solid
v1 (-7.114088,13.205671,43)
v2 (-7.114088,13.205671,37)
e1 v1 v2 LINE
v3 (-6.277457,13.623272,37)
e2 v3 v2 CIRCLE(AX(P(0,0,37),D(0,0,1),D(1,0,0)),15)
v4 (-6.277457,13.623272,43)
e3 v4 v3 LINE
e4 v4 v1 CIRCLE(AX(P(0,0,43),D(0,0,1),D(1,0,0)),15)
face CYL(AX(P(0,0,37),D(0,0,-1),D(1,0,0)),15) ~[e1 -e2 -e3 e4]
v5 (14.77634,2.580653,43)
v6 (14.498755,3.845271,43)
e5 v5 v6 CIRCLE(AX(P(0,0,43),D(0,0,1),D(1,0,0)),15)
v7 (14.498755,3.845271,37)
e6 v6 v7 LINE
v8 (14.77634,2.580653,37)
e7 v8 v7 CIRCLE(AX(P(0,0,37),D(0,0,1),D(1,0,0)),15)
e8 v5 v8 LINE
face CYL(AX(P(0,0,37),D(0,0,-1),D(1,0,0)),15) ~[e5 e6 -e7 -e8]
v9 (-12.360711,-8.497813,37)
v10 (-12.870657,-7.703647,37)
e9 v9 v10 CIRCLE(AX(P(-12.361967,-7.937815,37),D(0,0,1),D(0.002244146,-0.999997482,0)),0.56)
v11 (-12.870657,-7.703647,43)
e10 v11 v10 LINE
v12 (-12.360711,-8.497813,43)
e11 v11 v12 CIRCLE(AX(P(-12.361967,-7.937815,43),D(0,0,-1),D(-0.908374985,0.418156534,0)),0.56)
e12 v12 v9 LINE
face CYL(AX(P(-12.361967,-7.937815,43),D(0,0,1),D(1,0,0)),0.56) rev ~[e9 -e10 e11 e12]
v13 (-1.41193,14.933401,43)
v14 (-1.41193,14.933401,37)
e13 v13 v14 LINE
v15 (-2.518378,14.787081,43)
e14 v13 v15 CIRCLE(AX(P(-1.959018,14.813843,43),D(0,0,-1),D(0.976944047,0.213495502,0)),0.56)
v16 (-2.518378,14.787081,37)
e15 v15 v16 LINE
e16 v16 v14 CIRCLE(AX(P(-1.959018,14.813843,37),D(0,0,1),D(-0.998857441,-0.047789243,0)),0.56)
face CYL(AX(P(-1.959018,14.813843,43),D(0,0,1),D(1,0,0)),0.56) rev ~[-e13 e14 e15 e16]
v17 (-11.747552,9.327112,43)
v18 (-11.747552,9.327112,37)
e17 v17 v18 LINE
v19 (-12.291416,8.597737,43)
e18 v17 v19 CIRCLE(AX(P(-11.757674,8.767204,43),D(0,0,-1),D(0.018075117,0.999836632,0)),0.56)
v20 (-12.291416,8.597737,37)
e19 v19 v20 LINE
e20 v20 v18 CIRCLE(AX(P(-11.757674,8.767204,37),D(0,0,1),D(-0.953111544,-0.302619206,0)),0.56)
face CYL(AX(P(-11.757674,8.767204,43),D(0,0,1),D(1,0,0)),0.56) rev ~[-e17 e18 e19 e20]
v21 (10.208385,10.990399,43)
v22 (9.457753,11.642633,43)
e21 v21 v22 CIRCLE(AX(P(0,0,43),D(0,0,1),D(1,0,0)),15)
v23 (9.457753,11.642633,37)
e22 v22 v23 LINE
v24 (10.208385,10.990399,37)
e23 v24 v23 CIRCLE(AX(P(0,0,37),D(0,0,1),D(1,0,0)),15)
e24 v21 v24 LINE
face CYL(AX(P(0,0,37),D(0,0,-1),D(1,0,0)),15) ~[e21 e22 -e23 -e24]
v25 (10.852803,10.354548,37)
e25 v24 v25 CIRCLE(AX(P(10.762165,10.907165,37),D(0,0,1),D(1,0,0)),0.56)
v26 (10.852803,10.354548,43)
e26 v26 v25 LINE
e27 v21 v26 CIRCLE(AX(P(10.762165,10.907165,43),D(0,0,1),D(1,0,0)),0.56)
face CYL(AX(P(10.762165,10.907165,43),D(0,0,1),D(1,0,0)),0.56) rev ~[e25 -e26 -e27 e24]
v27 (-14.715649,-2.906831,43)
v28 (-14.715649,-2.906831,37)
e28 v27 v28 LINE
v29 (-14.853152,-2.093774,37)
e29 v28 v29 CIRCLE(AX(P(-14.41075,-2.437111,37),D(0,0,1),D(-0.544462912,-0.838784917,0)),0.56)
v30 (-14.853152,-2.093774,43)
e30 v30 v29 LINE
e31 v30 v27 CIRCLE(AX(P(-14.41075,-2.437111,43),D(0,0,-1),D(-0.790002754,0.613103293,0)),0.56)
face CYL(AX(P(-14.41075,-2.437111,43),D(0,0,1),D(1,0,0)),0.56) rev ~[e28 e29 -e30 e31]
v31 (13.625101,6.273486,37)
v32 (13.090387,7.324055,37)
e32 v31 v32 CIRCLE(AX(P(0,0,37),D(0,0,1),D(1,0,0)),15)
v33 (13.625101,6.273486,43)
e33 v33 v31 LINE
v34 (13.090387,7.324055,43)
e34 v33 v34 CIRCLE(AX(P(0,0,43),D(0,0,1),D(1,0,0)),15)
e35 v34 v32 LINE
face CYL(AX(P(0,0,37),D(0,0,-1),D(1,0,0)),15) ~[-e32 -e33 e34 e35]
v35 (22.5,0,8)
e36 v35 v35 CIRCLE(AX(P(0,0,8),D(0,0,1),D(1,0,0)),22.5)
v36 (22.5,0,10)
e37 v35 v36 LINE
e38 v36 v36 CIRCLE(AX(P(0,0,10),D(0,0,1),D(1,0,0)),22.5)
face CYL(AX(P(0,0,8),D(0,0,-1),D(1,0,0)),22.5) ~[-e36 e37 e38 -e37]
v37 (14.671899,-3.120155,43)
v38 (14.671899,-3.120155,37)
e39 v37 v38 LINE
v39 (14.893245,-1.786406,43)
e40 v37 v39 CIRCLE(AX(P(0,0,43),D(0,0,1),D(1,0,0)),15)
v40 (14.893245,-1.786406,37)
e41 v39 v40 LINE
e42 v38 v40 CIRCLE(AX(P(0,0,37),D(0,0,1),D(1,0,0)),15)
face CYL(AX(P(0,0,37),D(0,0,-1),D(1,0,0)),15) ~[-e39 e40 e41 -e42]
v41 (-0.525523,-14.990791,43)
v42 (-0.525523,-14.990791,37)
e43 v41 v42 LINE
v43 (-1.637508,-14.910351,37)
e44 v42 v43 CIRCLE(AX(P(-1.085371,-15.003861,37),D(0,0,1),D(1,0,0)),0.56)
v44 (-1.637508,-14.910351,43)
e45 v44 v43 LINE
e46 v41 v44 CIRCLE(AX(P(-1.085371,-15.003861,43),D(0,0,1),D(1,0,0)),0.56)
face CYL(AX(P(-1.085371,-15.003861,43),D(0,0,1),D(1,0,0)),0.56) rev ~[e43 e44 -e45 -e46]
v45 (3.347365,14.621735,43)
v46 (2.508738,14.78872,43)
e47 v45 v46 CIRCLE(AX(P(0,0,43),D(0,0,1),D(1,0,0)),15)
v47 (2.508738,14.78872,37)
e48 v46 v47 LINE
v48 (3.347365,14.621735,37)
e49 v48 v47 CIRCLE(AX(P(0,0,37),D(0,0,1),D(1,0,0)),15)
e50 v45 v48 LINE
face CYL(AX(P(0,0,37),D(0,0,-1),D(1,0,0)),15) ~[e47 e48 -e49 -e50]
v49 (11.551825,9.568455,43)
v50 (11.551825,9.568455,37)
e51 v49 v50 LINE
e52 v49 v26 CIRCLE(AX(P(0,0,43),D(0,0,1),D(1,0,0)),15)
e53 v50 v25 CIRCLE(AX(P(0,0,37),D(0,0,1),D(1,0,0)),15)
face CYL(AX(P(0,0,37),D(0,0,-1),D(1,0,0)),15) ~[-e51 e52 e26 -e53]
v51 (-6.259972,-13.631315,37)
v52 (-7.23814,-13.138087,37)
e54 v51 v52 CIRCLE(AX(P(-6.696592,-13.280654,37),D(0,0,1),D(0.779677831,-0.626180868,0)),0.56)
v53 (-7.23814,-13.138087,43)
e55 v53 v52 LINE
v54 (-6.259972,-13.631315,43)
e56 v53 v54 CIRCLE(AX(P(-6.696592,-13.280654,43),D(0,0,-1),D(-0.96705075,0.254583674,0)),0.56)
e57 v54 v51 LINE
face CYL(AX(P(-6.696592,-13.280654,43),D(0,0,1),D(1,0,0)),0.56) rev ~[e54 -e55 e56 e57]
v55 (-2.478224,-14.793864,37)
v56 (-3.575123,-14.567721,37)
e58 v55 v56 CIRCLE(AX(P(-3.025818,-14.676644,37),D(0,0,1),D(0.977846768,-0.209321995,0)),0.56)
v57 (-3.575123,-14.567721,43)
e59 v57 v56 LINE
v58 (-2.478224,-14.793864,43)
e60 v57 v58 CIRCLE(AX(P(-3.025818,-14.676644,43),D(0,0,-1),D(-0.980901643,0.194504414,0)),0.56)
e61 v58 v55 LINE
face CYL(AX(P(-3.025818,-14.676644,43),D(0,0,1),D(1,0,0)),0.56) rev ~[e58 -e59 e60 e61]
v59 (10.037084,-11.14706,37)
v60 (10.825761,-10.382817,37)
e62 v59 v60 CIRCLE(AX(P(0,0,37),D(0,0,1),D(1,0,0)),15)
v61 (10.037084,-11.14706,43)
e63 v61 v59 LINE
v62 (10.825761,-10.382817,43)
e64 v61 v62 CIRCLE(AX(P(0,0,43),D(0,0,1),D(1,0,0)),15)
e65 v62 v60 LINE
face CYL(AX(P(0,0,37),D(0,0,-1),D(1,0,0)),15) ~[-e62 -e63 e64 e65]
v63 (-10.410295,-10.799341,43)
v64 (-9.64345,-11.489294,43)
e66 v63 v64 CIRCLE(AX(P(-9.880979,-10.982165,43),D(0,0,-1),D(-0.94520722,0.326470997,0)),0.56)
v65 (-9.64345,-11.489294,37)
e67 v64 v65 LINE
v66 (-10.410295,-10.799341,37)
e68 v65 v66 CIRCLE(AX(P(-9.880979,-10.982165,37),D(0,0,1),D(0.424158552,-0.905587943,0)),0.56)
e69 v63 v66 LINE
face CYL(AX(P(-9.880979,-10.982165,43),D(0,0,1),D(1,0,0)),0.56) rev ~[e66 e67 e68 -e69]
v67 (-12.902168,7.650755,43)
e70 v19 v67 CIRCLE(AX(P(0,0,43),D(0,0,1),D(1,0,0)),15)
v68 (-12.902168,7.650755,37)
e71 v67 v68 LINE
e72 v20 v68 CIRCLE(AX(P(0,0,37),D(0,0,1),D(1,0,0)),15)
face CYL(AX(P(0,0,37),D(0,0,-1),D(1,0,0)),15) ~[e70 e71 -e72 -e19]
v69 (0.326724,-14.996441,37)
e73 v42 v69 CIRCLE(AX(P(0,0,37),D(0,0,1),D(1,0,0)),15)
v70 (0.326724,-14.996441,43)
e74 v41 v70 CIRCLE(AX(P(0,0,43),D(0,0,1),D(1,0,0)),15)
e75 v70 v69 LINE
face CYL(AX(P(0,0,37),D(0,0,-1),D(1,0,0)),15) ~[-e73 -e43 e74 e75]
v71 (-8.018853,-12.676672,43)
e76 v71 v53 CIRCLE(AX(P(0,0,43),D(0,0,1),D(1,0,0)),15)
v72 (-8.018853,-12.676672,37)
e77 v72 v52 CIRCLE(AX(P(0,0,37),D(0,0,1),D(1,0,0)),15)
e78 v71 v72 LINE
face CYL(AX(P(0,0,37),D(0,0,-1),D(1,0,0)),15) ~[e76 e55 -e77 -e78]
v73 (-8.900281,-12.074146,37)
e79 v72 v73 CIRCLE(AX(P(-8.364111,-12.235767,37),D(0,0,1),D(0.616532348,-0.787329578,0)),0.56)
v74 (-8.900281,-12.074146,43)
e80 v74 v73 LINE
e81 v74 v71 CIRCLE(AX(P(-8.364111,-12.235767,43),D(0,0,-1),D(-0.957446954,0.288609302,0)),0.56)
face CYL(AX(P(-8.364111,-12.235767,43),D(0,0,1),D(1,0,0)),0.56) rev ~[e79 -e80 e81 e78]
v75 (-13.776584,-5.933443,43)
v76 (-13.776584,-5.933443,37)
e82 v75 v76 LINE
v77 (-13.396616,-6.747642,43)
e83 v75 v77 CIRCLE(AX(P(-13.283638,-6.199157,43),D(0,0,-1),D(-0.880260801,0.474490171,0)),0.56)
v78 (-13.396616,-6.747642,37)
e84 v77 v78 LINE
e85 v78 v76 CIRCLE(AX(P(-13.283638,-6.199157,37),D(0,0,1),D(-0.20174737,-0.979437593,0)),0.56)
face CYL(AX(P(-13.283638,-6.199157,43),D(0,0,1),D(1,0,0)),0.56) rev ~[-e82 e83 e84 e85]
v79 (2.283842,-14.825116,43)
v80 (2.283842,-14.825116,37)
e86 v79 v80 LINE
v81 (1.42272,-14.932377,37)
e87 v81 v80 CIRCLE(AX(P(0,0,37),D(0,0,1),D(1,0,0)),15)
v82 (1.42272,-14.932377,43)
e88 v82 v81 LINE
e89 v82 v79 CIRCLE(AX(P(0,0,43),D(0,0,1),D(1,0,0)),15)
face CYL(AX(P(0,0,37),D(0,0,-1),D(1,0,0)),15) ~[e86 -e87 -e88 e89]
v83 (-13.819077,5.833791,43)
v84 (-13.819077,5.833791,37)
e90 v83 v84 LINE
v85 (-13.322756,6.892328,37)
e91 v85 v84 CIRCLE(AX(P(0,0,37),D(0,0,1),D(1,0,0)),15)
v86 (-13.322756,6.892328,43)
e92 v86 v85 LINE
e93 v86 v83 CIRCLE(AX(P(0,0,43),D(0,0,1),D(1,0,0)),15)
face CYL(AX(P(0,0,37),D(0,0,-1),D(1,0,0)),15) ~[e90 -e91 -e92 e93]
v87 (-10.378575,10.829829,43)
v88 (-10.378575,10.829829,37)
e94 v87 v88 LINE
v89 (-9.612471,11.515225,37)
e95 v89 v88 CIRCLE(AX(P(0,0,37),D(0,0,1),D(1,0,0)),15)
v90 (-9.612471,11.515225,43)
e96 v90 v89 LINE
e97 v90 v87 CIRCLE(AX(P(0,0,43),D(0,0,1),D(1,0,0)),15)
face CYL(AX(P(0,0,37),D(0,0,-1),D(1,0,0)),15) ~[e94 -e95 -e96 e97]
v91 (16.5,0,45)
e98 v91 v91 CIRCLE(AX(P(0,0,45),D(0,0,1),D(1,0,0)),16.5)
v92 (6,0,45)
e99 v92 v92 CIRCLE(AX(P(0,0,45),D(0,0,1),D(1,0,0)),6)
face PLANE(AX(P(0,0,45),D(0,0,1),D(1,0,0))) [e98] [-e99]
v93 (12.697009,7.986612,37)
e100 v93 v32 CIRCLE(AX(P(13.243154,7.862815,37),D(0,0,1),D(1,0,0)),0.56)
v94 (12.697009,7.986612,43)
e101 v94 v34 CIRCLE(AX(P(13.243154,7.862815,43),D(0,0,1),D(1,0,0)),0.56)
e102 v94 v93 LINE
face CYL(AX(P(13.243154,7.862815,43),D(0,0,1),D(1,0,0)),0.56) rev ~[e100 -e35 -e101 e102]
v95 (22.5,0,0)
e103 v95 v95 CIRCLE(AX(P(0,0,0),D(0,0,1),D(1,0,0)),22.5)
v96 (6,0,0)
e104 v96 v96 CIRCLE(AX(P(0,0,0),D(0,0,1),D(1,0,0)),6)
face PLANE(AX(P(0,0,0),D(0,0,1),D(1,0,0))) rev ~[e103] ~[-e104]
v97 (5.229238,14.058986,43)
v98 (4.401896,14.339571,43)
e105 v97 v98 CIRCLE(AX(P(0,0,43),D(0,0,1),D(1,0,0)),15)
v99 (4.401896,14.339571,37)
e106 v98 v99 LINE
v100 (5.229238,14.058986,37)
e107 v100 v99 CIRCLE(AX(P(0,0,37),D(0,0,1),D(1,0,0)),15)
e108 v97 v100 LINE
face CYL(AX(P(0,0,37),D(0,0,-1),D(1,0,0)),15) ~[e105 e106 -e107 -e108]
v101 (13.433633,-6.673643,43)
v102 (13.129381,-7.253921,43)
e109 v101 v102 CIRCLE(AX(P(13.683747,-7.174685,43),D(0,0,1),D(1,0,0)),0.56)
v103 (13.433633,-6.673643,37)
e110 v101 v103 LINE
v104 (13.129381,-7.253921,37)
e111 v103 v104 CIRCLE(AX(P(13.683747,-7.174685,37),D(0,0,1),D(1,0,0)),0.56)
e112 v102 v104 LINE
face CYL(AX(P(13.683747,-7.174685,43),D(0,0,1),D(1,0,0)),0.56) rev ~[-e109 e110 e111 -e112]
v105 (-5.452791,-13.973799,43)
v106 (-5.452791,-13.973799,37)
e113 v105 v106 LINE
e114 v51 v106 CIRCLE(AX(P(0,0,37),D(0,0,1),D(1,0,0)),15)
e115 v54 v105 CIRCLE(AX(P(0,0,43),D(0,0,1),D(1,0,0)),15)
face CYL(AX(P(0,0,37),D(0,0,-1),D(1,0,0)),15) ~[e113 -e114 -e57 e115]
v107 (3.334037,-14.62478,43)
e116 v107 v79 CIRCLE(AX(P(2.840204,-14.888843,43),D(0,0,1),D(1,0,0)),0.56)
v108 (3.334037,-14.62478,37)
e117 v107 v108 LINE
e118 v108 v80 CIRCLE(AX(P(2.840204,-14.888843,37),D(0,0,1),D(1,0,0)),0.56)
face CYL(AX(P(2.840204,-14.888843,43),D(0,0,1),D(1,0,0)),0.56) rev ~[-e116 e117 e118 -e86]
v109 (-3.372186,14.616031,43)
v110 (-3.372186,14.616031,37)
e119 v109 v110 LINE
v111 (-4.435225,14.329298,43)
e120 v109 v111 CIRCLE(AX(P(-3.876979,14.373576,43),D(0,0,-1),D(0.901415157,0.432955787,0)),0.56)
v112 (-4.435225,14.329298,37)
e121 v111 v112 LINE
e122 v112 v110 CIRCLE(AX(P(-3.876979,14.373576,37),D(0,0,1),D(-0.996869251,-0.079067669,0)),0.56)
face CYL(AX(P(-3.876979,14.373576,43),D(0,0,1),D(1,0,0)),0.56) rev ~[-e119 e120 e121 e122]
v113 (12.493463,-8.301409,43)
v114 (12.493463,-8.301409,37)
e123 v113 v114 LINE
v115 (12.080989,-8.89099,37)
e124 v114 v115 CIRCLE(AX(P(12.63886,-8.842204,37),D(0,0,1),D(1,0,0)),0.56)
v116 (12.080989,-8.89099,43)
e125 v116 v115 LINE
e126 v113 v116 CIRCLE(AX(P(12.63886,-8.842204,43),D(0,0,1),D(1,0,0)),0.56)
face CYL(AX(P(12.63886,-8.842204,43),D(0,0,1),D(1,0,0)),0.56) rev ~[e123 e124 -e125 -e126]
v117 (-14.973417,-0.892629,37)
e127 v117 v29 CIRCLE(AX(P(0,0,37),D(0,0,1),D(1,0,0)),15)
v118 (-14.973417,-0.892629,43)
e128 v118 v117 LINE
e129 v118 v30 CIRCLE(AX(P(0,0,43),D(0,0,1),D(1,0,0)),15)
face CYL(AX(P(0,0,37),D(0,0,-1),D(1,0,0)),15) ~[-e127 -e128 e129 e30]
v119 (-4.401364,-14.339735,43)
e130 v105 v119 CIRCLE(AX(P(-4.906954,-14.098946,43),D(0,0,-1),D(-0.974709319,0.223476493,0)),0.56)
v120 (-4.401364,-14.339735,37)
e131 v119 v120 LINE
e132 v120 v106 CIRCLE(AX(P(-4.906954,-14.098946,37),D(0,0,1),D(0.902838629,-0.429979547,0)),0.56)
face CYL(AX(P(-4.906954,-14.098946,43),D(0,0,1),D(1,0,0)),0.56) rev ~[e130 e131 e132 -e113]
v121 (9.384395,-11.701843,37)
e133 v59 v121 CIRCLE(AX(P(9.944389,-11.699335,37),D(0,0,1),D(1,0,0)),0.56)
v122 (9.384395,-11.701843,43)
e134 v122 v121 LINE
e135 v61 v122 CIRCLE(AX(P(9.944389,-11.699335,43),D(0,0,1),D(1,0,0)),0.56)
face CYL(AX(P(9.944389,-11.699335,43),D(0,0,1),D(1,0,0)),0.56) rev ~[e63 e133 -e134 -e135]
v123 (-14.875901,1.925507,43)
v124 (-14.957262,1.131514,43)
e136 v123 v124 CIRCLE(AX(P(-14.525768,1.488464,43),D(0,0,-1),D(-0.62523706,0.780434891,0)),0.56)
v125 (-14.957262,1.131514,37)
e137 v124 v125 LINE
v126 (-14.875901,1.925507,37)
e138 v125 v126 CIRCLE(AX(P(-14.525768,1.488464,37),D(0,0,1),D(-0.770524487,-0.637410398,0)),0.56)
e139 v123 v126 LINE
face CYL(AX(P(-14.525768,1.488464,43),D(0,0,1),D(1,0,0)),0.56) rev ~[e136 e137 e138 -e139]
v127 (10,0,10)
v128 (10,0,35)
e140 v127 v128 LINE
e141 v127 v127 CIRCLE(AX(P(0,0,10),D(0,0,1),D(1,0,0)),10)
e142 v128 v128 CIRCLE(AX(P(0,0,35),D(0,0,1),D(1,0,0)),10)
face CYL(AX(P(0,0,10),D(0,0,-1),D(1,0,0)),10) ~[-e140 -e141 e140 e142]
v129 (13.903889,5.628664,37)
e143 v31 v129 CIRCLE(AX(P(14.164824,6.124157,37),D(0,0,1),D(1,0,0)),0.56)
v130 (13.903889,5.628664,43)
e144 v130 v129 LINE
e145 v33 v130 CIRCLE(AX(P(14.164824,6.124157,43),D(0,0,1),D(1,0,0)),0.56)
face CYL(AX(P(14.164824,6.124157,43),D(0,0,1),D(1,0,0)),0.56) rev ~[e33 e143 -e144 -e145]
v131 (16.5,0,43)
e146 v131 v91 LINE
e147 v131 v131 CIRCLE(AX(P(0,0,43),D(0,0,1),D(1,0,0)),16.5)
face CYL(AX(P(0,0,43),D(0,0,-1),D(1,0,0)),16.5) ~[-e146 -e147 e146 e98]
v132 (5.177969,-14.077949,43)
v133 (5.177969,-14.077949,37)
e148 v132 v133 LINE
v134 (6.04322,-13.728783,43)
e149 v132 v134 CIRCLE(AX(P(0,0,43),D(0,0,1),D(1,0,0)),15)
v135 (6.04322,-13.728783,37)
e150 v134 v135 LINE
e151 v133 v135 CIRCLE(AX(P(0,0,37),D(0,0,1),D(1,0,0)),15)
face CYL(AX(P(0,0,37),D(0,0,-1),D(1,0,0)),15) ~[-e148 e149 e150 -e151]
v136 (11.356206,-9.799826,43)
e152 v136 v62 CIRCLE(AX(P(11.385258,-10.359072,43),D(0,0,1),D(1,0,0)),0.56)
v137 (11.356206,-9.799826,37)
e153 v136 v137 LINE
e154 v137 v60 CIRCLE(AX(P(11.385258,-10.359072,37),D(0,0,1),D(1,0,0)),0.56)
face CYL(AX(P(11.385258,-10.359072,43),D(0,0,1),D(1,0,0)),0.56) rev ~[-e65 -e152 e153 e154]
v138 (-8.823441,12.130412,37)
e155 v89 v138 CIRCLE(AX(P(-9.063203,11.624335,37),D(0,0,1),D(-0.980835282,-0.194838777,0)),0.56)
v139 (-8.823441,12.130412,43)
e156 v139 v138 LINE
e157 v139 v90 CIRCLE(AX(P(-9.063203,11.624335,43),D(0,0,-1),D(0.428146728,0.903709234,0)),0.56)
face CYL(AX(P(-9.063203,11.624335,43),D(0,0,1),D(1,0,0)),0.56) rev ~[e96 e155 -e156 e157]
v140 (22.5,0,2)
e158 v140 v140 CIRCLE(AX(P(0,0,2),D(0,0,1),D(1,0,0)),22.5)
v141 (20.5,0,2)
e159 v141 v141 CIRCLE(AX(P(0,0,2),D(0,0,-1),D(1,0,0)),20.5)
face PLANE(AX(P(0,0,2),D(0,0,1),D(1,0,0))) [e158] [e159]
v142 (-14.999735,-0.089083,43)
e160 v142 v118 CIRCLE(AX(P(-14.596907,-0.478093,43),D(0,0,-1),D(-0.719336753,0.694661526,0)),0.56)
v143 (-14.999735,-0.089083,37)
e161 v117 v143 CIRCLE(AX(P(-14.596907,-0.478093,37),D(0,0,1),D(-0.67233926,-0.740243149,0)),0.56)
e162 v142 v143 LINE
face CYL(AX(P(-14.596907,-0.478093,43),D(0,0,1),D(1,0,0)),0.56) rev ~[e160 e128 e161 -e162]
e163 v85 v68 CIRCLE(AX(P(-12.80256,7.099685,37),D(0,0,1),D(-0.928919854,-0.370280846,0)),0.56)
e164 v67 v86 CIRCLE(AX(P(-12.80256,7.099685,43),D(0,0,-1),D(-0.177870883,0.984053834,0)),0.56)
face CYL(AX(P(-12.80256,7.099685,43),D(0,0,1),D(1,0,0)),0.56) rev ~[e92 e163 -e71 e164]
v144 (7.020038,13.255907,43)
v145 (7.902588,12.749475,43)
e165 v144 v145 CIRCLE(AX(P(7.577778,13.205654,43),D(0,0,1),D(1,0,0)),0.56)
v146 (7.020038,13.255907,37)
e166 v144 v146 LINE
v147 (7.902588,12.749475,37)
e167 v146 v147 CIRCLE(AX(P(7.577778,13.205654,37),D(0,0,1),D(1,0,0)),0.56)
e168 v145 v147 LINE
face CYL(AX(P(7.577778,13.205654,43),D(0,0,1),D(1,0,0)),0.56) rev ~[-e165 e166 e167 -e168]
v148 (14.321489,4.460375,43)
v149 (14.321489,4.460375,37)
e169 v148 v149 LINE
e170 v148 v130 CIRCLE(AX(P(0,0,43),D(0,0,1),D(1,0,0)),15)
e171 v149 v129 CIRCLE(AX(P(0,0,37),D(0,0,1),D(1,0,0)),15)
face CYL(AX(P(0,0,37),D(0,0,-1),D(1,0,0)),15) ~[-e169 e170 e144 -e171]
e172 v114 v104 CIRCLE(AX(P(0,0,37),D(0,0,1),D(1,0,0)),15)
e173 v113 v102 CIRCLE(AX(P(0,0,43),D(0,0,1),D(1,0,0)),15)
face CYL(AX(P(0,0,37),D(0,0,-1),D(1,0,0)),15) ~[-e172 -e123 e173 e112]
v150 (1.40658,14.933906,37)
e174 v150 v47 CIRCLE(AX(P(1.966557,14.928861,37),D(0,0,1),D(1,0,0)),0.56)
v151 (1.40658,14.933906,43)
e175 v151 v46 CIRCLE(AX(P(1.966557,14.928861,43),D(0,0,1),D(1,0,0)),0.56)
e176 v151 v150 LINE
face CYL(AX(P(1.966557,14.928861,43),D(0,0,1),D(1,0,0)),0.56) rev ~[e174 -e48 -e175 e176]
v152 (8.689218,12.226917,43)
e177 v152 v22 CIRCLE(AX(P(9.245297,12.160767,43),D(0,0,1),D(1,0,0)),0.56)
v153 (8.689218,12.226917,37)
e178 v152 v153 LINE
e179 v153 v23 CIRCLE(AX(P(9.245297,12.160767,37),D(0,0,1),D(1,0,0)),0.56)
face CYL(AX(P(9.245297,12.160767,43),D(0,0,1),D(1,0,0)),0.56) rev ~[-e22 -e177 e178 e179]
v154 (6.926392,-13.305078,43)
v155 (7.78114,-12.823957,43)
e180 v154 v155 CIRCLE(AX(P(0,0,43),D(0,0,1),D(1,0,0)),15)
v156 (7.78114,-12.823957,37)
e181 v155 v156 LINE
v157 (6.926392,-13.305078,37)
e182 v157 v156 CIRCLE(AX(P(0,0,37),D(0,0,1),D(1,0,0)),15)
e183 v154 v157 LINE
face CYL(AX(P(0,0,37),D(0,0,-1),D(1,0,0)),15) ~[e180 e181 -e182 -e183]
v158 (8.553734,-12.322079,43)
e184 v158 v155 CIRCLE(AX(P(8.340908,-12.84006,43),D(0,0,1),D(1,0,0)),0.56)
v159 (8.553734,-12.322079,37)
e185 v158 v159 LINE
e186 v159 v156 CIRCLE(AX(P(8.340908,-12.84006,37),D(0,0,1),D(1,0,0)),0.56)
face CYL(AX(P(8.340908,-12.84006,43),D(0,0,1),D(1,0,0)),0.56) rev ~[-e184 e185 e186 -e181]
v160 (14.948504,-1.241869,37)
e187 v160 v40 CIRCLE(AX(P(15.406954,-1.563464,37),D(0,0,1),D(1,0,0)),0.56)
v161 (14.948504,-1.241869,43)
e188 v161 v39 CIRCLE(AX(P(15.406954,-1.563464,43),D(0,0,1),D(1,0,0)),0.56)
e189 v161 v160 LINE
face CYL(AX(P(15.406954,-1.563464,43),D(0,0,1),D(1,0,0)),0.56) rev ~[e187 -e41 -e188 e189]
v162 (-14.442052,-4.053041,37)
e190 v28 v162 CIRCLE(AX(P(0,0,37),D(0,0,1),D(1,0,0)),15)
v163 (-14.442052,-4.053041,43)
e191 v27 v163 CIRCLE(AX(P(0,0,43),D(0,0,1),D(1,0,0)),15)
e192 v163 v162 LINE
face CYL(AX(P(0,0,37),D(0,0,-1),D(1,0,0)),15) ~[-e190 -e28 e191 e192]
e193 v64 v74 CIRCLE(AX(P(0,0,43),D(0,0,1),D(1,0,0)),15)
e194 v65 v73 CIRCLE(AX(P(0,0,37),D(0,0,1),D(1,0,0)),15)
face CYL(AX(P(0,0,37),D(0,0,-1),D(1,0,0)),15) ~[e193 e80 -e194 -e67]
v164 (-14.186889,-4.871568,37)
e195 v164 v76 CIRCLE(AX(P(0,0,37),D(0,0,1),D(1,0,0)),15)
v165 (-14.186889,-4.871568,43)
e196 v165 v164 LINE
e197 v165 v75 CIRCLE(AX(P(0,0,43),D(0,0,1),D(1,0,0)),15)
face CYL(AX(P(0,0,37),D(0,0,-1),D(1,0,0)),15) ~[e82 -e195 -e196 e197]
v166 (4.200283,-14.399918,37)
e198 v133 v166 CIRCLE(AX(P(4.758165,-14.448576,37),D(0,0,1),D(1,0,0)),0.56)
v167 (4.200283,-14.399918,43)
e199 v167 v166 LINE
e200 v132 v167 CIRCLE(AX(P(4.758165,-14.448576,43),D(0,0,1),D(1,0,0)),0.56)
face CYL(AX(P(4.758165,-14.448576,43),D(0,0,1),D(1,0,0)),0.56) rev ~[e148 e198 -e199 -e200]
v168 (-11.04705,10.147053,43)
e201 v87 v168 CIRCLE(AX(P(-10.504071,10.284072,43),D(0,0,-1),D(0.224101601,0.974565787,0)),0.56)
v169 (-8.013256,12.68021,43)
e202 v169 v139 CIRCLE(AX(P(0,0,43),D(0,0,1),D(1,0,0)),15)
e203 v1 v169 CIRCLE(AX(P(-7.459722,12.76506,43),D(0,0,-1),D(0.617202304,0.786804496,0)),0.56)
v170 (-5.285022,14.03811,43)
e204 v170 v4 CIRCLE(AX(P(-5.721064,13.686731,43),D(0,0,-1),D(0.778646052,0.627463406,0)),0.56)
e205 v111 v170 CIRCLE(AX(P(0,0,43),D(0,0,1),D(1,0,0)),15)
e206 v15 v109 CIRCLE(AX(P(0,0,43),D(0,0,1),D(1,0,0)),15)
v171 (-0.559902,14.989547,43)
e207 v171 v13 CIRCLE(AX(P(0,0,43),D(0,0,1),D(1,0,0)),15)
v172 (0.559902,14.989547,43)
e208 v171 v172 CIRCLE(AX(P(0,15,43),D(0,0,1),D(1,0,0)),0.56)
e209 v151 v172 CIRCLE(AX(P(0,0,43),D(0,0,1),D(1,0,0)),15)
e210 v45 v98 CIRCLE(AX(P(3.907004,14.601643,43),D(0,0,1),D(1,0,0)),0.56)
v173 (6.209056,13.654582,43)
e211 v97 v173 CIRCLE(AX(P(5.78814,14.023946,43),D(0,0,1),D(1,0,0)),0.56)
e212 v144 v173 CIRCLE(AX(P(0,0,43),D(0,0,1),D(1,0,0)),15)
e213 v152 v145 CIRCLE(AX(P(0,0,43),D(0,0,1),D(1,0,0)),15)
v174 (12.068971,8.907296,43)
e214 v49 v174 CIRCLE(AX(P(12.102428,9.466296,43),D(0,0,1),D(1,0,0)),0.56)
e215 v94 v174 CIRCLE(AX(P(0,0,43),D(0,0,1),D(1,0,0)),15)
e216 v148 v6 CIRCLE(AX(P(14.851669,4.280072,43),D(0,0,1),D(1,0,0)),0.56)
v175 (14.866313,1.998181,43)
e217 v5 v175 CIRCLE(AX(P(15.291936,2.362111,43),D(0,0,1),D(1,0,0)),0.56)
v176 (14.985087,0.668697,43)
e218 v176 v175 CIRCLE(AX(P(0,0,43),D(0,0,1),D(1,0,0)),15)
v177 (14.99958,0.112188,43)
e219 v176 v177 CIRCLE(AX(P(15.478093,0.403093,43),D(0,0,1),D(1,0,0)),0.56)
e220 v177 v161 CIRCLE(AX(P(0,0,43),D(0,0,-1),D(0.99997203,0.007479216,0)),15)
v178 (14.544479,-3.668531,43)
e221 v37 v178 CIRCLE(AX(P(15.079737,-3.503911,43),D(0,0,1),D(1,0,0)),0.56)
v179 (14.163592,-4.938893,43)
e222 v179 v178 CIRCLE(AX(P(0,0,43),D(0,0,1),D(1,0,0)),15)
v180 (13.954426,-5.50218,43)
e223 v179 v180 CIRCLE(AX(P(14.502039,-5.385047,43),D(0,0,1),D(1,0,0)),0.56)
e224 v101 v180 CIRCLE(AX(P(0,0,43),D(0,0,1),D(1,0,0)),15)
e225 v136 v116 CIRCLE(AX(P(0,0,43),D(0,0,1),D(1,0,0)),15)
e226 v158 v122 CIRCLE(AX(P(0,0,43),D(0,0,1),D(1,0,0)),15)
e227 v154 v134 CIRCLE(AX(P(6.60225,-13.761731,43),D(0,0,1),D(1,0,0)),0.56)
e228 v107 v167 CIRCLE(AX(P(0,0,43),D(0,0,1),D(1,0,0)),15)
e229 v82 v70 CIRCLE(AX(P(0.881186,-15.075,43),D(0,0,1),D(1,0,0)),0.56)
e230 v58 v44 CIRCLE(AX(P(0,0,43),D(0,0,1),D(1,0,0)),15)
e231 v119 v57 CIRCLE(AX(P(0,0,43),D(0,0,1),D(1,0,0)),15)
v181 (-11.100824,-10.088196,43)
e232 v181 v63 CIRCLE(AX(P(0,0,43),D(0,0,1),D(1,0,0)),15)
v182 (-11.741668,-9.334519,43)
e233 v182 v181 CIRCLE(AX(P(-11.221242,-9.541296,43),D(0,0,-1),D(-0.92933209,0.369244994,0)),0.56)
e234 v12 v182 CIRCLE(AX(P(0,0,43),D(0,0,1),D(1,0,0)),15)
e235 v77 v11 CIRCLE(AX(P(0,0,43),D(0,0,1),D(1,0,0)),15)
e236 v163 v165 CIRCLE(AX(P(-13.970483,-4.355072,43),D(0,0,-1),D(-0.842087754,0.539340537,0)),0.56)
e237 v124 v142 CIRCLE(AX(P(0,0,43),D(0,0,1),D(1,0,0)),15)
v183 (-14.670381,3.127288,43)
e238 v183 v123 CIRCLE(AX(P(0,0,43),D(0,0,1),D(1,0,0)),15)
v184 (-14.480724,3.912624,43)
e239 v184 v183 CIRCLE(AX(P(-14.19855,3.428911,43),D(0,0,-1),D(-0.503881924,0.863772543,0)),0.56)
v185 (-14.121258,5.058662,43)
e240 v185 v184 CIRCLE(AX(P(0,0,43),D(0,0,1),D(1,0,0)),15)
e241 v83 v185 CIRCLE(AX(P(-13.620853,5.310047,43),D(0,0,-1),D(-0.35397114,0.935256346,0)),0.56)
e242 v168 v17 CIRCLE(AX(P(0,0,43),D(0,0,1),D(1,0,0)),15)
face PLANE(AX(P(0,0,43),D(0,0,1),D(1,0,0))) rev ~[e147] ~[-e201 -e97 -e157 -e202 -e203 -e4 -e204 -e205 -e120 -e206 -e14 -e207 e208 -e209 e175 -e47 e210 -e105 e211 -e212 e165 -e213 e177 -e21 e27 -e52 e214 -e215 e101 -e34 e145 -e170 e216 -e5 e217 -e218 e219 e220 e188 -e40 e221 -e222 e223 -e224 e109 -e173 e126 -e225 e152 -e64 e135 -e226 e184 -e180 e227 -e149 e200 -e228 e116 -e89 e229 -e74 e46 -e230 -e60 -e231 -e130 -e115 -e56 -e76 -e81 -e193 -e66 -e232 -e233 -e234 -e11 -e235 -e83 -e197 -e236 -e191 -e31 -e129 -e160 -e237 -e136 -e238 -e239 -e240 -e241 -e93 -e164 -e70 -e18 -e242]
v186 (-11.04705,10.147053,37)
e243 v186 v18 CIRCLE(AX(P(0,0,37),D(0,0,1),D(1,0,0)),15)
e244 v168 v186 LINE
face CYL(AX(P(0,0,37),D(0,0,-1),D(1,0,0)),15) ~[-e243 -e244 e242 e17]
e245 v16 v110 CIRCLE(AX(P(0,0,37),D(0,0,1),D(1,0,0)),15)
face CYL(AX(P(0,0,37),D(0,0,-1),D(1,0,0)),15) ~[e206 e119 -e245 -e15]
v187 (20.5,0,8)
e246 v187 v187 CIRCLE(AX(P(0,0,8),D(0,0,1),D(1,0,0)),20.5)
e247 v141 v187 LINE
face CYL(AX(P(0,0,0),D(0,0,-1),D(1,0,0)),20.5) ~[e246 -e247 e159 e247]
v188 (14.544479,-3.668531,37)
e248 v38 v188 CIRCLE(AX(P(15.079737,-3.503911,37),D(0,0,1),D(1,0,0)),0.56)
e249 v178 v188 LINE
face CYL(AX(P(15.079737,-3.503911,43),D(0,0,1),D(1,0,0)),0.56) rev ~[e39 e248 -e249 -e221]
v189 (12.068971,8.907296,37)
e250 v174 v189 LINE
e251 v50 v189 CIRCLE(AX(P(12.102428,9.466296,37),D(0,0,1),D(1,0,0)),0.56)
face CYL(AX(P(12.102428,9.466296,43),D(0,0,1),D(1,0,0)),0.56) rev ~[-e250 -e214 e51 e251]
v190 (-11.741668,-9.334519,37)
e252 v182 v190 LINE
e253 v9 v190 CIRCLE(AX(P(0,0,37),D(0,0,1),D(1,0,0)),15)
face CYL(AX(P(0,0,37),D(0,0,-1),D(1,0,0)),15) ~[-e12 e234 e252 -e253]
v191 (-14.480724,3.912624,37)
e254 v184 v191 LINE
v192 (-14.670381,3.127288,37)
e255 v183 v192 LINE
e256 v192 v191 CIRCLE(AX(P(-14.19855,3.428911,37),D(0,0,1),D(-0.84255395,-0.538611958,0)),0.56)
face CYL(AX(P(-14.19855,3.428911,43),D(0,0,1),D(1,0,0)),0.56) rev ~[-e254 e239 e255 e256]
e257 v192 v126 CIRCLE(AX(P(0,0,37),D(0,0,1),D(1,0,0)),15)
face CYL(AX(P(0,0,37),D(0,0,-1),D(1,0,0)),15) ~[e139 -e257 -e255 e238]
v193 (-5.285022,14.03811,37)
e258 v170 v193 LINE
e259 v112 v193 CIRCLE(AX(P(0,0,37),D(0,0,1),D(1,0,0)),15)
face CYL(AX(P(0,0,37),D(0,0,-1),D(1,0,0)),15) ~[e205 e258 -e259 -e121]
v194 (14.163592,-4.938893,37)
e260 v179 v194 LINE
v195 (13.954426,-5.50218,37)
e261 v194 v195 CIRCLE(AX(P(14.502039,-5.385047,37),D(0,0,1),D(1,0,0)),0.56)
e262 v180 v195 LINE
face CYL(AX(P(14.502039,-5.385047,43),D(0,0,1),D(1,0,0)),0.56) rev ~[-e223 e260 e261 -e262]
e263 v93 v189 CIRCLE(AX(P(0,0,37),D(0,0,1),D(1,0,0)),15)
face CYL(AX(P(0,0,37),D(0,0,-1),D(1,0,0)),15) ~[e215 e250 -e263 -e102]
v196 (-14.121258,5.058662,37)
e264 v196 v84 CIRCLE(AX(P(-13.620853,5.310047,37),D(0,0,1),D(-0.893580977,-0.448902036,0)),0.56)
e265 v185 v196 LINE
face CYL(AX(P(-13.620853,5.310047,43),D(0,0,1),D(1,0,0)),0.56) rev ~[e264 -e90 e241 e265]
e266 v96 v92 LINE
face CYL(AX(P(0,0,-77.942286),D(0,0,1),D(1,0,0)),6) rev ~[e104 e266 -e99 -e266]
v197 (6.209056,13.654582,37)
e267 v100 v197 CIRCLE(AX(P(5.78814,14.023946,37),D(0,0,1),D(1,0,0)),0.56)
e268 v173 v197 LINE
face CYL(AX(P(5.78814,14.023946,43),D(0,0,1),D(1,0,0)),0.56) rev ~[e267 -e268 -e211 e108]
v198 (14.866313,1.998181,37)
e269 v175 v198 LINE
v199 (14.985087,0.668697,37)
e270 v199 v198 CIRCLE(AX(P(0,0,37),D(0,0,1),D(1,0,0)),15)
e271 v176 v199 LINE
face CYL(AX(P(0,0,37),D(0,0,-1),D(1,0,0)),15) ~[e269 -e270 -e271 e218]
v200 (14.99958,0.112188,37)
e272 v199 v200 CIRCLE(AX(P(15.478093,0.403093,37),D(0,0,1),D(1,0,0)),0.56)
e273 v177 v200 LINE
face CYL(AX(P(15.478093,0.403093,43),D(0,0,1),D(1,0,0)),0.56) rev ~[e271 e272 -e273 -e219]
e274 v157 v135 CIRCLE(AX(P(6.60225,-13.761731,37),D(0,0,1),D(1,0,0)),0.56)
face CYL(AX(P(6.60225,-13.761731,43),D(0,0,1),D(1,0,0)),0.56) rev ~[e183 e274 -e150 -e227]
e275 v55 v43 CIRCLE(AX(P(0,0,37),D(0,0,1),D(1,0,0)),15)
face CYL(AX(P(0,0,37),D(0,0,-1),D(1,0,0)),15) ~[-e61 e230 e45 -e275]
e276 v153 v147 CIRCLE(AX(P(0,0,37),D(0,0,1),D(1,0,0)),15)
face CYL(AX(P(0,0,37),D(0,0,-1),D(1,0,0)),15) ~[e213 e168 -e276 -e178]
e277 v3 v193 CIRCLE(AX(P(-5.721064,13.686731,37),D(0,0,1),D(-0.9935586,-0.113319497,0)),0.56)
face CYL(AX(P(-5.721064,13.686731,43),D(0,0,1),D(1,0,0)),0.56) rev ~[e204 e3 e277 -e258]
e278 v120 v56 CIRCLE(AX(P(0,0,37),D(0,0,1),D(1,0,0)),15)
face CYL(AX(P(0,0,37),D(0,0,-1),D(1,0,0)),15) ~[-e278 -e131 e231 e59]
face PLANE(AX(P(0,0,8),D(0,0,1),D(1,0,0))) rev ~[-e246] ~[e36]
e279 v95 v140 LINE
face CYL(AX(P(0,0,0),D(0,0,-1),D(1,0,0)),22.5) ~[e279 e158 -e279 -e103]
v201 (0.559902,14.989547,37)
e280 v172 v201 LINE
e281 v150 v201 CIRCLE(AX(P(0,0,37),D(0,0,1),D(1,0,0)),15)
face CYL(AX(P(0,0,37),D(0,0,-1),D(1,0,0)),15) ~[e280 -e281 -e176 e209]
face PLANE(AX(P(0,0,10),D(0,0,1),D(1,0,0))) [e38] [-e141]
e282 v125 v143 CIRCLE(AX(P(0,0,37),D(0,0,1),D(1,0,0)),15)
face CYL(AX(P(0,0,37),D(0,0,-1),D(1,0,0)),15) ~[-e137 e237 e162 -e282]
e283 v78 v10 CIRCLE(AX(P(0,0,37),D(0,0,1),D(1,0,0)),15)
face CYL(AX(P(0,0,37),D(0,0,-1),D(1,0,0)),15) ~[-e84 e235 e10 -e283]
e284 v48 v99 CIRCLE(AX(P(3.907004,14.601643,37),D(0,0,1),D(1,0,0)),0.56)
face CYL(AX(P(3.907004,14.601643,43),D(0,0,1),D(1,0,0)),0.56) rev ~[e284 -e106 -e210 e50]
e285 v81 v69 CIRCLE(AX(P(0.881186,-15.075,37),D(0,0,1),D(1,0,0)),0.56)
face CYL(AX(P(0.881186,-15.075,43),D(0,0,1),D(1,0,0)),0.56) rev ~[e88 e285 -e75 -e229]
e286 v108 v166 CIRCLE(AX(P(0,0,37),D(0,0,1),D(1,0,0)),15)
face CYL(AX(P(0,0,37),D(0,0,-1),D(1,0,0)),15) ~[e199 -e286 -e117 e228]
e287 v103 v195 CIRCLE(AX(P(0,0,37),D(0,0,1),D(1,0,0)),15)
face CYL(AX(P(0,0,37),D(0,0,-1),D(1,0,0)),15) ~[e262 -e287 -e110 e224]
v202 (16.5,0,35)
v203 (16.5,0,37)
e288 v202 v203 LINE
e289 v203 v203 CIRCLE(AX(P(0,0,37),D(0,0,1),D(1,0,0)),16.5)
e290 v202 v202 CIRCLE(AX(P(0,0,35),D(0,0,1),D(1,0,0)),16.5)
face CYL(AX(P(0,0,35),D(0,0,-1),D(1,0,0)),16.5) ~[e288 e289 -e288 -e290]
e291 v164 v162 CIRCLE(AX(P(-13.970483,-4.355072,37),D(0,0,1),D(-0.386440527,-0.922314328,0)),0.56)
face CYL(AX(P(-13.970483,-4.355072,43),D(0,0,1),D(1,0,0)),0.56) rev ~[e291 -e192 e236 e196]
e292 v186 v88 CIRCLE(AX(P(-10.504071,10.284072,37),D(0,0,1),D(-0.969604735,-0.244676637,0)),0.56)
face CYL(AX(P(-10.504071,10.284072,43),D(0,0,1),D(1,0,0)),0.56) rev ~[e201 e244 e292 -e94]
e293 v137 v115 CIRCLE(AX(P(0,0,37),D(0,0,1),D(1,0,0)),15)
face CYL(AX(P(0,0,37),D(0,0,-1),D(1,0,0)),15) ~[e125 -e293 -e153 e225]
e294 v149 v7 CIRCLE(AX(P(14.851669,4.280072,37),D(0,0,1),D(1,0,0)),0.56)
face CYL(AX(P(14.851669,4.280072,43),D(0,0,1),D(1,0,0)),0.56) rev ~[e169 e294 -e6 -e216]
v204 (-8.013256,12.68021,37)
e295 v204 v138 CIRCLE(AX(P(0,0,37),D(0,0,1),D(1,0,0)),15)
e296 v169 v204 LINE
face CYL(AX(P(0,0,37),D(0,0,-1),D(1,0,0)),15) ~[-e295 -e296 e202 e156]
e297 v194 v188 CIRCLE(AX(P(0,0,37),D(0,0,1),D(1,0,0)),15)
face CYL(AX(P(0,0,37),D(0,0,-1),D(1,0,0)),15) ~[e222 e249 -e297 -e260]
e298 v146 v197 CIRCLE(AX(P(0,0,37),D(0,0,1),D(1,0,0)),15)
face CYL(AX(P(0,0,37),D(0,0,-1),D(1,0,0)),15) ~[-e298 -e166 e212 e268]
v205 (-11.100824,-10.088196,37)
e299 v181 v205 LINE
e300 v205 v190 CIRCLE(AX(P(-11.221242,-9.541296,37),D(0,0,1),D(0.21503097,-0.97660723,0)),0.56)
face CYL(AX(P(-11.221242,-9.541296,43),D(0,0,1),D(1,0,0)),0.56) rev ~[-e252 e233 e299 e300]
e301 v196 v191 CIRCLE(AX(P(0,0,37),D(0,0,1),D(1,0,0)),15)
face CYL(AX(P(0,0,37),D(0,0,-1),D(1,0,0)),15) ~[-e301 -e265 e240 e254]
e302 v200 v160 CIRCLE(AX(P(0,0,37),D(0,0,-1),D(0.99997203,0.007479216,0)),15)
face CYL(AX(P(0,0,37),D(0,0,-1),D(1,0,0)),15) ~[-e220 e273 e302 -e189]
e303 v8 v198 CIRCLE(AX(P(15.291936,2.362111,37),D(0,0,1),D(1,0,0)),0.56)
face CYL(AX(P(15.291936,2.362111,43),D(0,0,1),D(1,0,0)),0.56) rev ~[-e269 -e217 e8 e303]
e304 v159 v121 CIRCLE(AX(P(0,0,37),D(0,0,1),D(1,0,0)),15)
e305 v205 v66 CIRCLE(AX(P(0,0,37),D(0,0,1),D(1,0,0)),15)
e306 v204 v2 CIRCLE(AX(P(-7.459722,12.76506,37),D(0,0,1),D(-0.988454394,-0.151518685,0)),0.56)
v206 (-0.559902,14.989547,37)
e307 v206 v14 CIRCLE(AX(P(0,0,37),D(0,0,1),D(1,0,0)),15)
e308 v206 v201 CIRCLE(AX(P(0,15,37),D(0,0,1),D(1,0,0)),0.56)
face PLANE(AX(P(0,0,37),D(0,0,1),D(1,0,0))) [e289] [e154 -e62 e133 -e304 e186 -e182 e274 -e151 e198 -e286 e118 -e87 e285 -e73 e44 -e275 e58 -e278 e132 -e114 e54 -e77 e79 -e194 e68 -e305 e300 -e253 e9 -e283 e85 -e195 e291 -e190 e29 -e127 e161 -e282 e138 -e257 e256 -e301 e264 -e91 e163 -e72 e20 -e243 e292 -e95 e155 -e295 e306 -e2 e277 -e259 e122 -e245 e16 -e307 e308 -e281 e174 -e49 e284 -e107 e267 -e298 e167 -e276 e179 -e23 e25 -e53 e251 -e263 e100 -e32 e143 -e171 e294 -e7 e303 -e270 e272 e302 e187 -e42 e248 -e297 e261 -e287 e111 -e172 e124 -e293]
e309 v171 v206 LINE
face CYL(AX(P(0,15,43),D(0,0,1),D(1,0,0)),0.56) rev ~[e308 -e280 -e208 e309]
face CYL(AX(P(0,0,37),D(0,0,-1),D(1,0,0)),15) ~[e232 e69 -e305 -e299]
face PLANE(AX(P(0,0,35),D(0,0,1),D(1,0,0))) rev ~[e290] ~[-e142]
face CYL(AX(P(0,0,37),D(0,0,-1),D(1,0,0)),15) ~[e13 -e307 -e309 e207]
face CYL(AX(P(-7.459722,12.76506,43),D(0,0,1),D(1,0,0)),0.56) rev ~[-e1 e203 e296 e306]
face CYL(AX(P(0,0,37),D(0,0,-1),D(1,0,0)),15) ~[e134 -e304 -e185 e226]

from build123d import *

# Parameters (mm, degrees)
SKIZZE1_R                        = 22.5
SEITE1_DEPTH                     = 2
SKIZZE2_R                        = 20.5
LAUFFL_CHE_DEPTH                 = 8
SKIZZE5_R                        = 22.5
SEITE_2_DEPTH                    = 2
BOHRUNG_DEPTH                    = 100
BOHRUNG_DEPTH_BACK               = 34.35416016
SKIZZE7_R                        = 2.5
SKIZZE9_R                        = 10
ZAPFEN_DEPTH                     = 25
SKIZZE10_R                       = 16.5
SEITENTEIL3_DEPTH                = 2
SKIZZE12_R                       = 15
ZAHNFL_CHE_DEPTH                 = 6
SKIZZE14_R                       = 0.56
RIEMENPROFIL_DEPTH               = 6
SKIZZE13_R                       = 16.5
SEITENTEIL4_DEPTH                = 2
F_12_0_12_DURCHMESSER_BOHRUNG1_D = 12


with BuildPart() as part:
    # Skizze1 → Seite1 (new body)
    with BuildSketch(Plane.XY):
        Circle(SKIZZE1_R)
    extrude(amount=SEITE1_DEPTH)

    # Skizze2 → Lauffläche (add)
    with BuildSketch(Plane.XY):
        Circle(SKIZZE2_R)
    extrude(amount=LAUFFL_CHE_DEPTH)

    # Skizze5 → Seite 2 (add)
    with BuildSketch(Plane.XY.offset(8)):
        Circle(SKIZZE5_R)
    extrude(amount=SEITE_2_DEPTH)

    # Skizze7 → Bohrung (cut, two sides: drawn at the far end of the back side and taken through both)
    with BuildSketch(Plane.XY.offset(-BOHRUNG_DEPTH_BACK)):
        Circle(SKIZZE7_R)
    extrude(amount=BOHRUNG_DEPTH + BOHRUNG_DEPTH_BACK, mode=Mode.SUBTRACT)

    # Skizze9 → Zapfen (add)
    with BuildSketch(Plane.XY.offset(10)):
        Circle(SKIZZE9_R)
    extrude(amount=ZAPFEN_DEPTH)

    # Skizze10 → Seitenteil3 (add)
    with BuildSketch(Plane.XY.offset(35)):
        Circle(SKIZZE10_R)
    extrude(amount=SEITENTEIL3_DEPTH)

    # Skizze12 → Zahnfläche (add)
    with BuildSketch(Plane.XY.offset(37)):
        Circle(SKIZZE12_R)
    extrude(amount=ZAHNFL_CHE_DEPTH)

    # Skizze14 → Riemenprofil (cut)
    with BuildSketch(Plane.XY.offset(43)):
        with Locations((0, 15)):
            Circle(SKIZZE14_R)
        with Locations((1.966556951, 14.928861044)):
            Circle(SKIZZE14_R)
        with Locations((3.907004237, 14.6016435)):
            Circle(SKIZZE14_R)
        with Locations((5.788140268, 14.023946153)):
            Circle(SKIZZE14_R)
        with Locations((7.577778284, 13.205653563)):
            Circle(SKIZZE14_R)
        with Locations((9.245297083, 12.160766945)):
            Circle(SKIZZE14_R)
        with Locations((10.762164956, 10.907164596)):
            Circle(SKIZZE14_R)
        with Locations((12.102427872, 9.466296002)):
            Circle(SKIZZE14_R)
        with Locations((13.243153563, 7.862814824)):
            Circle(SKIZZE14_R)
        with Locations((14.164823895, 6.124157069)):
            Circle(SKIZZE14_R)
        with Locations((14.851668833, 4.280071652)):
            Circle(SKIZZE14_R)
        with Locations((15.29193627, 2.362111388)):
            Circle(SKIZZE14_R)
        with Locations((15.478093108, 0.403093108)):
            Circle(SKIZZE14_R)
        with Locations((15.406954151, -1.563463843)):
            Circle(SKIZZE14_R)
        with Locations((15.079736608, -3.503911129)):
            Circle(SKIZZE14_R)
        with Locations((14.502039261, -5.38504716)):
            Circle(SKIZZE14_R)
        with Locations((13.683746671, -7.174685176)):
            Circle(SKIZZE14_R)
        with Locations((12.638860052, -8.842203975)):
            Circle(SKIZZE14_R)
        with Locations((11.385257704, -10.359071848)):
            Circle(SKIZZE14_R)
        with Locations((9.94438911, -11.699334765)):
            Circle(SKIZZE14_R)
        with Locations((8.340907932, -12.840060456)):
            Circle(SKIZZE14_R)
        with Locations((6.602250176, -13.761730787)):
            Circle(SKIZZE14_R)
        with Locations((4.75816476, -14.448575725)):
            Circle(SKIZZE14_R)
        with Locations((2.840204496, -14.888843162)):
            Circle(SKIZZE14_R)
        with Locations((0.881186216, -15.075)):
            Circle(SKIZZE14_R)
        with Locations((-1.085370735, -15.003861044)):
            Circle(SKIZZE14_R)
        with Locations((-3.025818021, -14.6766435)):
            Circle(SKIZZE14_R)
        with Locations((-4.906954052, -14.098946153)):
            Circle(SKIZZE14_R)
        with Locations((-6.696592068, -13.280653563)):
            Circle(SKIZZE14_R)
        with Locations((-8.364110867, -12.235766945)):
            Circle(SKIZZE14_R)
        with Locations((-9.88097874, -10.982164596)):
            Circle(SKIZZE14_R)
        with Locations((-11.221241657, -9.541296002)):
            Circle(SKIZZE14_R)
        with Locations((-12.361967348, -7.937814824)):
            Circle(SKIZZE14_R)
        with Locations((-13.28363768, -6.199157069)):
            Circle(SKIZZE14_R)
        with Locations((-13.970482618, -4.355071652)):
            Circle(SKIZZE14_R)
        with Locations((-14.410750054, -2.437111388)):
            Circle(SKIZZE14_R)
        with Locations((-14.596906892, -0.478093108)):
            Circle(SKIZZE14_R)
        with Locations((-14.525767936, 1.488463843)):
            Circle(SKIZZE14_R)
        with Locations((-14.198550392, 3.428911129)):
            Circle(SKIZZE14_R)
        with Locations((-13.620853045, 5.31004716)):
            Circle(SKIZZE14_R)
        with Locations((-12.802560456, 7.099685176)):
            Circle(SKIZZE14_R)
        with Locations((-11.757673837, 8.767203975)):
            Circle(SKIZZE14_R)
        with Locations((-10.504071489, 10.284071848)):
            Circle(SKIZZE14_R)
        with Locations((-9.063202895, 11.624334765)):
            Circle(SKIZZE14_R)
        with Locations((-7.459721716, 12.765060456)):
            Circle(SKIZZE14_R)
        with Locations((-5.721063961, 13.686730787)):
            Circle(SKIZZE14_R)
        with Locations((-3.876978545, 14.373575725)):
            Circle(SKIZZE14_R)
        with Locations((-1.95901828, 14.813843162)):
            Circle(SKIZZE14_R)
    extrude(amount=-RIEMENPROFIL_DEPTH, mode=Mode.SUBTRACT)

    # Skizze13 → Seitenteil4 (add)
    with BuildSketch(Plane.XY.offset(43)):
        Circle(SKIZZE13_R)
    extrude(amount=SEITENTEIL4_DEPTH)

    # Ø12.0 (12) Durchmesser Bohrung1 (through all)
    with Locations(Plane(origin=(0, 0, 0), x_dir=(-1, 0, 0), z_dir=(0, 0, -1))):
        with Locations((0, 0)):
            Hole(F_12_0_12_DURCHMESSER_BOHRUNG1_D / 2)


solid = part.part
